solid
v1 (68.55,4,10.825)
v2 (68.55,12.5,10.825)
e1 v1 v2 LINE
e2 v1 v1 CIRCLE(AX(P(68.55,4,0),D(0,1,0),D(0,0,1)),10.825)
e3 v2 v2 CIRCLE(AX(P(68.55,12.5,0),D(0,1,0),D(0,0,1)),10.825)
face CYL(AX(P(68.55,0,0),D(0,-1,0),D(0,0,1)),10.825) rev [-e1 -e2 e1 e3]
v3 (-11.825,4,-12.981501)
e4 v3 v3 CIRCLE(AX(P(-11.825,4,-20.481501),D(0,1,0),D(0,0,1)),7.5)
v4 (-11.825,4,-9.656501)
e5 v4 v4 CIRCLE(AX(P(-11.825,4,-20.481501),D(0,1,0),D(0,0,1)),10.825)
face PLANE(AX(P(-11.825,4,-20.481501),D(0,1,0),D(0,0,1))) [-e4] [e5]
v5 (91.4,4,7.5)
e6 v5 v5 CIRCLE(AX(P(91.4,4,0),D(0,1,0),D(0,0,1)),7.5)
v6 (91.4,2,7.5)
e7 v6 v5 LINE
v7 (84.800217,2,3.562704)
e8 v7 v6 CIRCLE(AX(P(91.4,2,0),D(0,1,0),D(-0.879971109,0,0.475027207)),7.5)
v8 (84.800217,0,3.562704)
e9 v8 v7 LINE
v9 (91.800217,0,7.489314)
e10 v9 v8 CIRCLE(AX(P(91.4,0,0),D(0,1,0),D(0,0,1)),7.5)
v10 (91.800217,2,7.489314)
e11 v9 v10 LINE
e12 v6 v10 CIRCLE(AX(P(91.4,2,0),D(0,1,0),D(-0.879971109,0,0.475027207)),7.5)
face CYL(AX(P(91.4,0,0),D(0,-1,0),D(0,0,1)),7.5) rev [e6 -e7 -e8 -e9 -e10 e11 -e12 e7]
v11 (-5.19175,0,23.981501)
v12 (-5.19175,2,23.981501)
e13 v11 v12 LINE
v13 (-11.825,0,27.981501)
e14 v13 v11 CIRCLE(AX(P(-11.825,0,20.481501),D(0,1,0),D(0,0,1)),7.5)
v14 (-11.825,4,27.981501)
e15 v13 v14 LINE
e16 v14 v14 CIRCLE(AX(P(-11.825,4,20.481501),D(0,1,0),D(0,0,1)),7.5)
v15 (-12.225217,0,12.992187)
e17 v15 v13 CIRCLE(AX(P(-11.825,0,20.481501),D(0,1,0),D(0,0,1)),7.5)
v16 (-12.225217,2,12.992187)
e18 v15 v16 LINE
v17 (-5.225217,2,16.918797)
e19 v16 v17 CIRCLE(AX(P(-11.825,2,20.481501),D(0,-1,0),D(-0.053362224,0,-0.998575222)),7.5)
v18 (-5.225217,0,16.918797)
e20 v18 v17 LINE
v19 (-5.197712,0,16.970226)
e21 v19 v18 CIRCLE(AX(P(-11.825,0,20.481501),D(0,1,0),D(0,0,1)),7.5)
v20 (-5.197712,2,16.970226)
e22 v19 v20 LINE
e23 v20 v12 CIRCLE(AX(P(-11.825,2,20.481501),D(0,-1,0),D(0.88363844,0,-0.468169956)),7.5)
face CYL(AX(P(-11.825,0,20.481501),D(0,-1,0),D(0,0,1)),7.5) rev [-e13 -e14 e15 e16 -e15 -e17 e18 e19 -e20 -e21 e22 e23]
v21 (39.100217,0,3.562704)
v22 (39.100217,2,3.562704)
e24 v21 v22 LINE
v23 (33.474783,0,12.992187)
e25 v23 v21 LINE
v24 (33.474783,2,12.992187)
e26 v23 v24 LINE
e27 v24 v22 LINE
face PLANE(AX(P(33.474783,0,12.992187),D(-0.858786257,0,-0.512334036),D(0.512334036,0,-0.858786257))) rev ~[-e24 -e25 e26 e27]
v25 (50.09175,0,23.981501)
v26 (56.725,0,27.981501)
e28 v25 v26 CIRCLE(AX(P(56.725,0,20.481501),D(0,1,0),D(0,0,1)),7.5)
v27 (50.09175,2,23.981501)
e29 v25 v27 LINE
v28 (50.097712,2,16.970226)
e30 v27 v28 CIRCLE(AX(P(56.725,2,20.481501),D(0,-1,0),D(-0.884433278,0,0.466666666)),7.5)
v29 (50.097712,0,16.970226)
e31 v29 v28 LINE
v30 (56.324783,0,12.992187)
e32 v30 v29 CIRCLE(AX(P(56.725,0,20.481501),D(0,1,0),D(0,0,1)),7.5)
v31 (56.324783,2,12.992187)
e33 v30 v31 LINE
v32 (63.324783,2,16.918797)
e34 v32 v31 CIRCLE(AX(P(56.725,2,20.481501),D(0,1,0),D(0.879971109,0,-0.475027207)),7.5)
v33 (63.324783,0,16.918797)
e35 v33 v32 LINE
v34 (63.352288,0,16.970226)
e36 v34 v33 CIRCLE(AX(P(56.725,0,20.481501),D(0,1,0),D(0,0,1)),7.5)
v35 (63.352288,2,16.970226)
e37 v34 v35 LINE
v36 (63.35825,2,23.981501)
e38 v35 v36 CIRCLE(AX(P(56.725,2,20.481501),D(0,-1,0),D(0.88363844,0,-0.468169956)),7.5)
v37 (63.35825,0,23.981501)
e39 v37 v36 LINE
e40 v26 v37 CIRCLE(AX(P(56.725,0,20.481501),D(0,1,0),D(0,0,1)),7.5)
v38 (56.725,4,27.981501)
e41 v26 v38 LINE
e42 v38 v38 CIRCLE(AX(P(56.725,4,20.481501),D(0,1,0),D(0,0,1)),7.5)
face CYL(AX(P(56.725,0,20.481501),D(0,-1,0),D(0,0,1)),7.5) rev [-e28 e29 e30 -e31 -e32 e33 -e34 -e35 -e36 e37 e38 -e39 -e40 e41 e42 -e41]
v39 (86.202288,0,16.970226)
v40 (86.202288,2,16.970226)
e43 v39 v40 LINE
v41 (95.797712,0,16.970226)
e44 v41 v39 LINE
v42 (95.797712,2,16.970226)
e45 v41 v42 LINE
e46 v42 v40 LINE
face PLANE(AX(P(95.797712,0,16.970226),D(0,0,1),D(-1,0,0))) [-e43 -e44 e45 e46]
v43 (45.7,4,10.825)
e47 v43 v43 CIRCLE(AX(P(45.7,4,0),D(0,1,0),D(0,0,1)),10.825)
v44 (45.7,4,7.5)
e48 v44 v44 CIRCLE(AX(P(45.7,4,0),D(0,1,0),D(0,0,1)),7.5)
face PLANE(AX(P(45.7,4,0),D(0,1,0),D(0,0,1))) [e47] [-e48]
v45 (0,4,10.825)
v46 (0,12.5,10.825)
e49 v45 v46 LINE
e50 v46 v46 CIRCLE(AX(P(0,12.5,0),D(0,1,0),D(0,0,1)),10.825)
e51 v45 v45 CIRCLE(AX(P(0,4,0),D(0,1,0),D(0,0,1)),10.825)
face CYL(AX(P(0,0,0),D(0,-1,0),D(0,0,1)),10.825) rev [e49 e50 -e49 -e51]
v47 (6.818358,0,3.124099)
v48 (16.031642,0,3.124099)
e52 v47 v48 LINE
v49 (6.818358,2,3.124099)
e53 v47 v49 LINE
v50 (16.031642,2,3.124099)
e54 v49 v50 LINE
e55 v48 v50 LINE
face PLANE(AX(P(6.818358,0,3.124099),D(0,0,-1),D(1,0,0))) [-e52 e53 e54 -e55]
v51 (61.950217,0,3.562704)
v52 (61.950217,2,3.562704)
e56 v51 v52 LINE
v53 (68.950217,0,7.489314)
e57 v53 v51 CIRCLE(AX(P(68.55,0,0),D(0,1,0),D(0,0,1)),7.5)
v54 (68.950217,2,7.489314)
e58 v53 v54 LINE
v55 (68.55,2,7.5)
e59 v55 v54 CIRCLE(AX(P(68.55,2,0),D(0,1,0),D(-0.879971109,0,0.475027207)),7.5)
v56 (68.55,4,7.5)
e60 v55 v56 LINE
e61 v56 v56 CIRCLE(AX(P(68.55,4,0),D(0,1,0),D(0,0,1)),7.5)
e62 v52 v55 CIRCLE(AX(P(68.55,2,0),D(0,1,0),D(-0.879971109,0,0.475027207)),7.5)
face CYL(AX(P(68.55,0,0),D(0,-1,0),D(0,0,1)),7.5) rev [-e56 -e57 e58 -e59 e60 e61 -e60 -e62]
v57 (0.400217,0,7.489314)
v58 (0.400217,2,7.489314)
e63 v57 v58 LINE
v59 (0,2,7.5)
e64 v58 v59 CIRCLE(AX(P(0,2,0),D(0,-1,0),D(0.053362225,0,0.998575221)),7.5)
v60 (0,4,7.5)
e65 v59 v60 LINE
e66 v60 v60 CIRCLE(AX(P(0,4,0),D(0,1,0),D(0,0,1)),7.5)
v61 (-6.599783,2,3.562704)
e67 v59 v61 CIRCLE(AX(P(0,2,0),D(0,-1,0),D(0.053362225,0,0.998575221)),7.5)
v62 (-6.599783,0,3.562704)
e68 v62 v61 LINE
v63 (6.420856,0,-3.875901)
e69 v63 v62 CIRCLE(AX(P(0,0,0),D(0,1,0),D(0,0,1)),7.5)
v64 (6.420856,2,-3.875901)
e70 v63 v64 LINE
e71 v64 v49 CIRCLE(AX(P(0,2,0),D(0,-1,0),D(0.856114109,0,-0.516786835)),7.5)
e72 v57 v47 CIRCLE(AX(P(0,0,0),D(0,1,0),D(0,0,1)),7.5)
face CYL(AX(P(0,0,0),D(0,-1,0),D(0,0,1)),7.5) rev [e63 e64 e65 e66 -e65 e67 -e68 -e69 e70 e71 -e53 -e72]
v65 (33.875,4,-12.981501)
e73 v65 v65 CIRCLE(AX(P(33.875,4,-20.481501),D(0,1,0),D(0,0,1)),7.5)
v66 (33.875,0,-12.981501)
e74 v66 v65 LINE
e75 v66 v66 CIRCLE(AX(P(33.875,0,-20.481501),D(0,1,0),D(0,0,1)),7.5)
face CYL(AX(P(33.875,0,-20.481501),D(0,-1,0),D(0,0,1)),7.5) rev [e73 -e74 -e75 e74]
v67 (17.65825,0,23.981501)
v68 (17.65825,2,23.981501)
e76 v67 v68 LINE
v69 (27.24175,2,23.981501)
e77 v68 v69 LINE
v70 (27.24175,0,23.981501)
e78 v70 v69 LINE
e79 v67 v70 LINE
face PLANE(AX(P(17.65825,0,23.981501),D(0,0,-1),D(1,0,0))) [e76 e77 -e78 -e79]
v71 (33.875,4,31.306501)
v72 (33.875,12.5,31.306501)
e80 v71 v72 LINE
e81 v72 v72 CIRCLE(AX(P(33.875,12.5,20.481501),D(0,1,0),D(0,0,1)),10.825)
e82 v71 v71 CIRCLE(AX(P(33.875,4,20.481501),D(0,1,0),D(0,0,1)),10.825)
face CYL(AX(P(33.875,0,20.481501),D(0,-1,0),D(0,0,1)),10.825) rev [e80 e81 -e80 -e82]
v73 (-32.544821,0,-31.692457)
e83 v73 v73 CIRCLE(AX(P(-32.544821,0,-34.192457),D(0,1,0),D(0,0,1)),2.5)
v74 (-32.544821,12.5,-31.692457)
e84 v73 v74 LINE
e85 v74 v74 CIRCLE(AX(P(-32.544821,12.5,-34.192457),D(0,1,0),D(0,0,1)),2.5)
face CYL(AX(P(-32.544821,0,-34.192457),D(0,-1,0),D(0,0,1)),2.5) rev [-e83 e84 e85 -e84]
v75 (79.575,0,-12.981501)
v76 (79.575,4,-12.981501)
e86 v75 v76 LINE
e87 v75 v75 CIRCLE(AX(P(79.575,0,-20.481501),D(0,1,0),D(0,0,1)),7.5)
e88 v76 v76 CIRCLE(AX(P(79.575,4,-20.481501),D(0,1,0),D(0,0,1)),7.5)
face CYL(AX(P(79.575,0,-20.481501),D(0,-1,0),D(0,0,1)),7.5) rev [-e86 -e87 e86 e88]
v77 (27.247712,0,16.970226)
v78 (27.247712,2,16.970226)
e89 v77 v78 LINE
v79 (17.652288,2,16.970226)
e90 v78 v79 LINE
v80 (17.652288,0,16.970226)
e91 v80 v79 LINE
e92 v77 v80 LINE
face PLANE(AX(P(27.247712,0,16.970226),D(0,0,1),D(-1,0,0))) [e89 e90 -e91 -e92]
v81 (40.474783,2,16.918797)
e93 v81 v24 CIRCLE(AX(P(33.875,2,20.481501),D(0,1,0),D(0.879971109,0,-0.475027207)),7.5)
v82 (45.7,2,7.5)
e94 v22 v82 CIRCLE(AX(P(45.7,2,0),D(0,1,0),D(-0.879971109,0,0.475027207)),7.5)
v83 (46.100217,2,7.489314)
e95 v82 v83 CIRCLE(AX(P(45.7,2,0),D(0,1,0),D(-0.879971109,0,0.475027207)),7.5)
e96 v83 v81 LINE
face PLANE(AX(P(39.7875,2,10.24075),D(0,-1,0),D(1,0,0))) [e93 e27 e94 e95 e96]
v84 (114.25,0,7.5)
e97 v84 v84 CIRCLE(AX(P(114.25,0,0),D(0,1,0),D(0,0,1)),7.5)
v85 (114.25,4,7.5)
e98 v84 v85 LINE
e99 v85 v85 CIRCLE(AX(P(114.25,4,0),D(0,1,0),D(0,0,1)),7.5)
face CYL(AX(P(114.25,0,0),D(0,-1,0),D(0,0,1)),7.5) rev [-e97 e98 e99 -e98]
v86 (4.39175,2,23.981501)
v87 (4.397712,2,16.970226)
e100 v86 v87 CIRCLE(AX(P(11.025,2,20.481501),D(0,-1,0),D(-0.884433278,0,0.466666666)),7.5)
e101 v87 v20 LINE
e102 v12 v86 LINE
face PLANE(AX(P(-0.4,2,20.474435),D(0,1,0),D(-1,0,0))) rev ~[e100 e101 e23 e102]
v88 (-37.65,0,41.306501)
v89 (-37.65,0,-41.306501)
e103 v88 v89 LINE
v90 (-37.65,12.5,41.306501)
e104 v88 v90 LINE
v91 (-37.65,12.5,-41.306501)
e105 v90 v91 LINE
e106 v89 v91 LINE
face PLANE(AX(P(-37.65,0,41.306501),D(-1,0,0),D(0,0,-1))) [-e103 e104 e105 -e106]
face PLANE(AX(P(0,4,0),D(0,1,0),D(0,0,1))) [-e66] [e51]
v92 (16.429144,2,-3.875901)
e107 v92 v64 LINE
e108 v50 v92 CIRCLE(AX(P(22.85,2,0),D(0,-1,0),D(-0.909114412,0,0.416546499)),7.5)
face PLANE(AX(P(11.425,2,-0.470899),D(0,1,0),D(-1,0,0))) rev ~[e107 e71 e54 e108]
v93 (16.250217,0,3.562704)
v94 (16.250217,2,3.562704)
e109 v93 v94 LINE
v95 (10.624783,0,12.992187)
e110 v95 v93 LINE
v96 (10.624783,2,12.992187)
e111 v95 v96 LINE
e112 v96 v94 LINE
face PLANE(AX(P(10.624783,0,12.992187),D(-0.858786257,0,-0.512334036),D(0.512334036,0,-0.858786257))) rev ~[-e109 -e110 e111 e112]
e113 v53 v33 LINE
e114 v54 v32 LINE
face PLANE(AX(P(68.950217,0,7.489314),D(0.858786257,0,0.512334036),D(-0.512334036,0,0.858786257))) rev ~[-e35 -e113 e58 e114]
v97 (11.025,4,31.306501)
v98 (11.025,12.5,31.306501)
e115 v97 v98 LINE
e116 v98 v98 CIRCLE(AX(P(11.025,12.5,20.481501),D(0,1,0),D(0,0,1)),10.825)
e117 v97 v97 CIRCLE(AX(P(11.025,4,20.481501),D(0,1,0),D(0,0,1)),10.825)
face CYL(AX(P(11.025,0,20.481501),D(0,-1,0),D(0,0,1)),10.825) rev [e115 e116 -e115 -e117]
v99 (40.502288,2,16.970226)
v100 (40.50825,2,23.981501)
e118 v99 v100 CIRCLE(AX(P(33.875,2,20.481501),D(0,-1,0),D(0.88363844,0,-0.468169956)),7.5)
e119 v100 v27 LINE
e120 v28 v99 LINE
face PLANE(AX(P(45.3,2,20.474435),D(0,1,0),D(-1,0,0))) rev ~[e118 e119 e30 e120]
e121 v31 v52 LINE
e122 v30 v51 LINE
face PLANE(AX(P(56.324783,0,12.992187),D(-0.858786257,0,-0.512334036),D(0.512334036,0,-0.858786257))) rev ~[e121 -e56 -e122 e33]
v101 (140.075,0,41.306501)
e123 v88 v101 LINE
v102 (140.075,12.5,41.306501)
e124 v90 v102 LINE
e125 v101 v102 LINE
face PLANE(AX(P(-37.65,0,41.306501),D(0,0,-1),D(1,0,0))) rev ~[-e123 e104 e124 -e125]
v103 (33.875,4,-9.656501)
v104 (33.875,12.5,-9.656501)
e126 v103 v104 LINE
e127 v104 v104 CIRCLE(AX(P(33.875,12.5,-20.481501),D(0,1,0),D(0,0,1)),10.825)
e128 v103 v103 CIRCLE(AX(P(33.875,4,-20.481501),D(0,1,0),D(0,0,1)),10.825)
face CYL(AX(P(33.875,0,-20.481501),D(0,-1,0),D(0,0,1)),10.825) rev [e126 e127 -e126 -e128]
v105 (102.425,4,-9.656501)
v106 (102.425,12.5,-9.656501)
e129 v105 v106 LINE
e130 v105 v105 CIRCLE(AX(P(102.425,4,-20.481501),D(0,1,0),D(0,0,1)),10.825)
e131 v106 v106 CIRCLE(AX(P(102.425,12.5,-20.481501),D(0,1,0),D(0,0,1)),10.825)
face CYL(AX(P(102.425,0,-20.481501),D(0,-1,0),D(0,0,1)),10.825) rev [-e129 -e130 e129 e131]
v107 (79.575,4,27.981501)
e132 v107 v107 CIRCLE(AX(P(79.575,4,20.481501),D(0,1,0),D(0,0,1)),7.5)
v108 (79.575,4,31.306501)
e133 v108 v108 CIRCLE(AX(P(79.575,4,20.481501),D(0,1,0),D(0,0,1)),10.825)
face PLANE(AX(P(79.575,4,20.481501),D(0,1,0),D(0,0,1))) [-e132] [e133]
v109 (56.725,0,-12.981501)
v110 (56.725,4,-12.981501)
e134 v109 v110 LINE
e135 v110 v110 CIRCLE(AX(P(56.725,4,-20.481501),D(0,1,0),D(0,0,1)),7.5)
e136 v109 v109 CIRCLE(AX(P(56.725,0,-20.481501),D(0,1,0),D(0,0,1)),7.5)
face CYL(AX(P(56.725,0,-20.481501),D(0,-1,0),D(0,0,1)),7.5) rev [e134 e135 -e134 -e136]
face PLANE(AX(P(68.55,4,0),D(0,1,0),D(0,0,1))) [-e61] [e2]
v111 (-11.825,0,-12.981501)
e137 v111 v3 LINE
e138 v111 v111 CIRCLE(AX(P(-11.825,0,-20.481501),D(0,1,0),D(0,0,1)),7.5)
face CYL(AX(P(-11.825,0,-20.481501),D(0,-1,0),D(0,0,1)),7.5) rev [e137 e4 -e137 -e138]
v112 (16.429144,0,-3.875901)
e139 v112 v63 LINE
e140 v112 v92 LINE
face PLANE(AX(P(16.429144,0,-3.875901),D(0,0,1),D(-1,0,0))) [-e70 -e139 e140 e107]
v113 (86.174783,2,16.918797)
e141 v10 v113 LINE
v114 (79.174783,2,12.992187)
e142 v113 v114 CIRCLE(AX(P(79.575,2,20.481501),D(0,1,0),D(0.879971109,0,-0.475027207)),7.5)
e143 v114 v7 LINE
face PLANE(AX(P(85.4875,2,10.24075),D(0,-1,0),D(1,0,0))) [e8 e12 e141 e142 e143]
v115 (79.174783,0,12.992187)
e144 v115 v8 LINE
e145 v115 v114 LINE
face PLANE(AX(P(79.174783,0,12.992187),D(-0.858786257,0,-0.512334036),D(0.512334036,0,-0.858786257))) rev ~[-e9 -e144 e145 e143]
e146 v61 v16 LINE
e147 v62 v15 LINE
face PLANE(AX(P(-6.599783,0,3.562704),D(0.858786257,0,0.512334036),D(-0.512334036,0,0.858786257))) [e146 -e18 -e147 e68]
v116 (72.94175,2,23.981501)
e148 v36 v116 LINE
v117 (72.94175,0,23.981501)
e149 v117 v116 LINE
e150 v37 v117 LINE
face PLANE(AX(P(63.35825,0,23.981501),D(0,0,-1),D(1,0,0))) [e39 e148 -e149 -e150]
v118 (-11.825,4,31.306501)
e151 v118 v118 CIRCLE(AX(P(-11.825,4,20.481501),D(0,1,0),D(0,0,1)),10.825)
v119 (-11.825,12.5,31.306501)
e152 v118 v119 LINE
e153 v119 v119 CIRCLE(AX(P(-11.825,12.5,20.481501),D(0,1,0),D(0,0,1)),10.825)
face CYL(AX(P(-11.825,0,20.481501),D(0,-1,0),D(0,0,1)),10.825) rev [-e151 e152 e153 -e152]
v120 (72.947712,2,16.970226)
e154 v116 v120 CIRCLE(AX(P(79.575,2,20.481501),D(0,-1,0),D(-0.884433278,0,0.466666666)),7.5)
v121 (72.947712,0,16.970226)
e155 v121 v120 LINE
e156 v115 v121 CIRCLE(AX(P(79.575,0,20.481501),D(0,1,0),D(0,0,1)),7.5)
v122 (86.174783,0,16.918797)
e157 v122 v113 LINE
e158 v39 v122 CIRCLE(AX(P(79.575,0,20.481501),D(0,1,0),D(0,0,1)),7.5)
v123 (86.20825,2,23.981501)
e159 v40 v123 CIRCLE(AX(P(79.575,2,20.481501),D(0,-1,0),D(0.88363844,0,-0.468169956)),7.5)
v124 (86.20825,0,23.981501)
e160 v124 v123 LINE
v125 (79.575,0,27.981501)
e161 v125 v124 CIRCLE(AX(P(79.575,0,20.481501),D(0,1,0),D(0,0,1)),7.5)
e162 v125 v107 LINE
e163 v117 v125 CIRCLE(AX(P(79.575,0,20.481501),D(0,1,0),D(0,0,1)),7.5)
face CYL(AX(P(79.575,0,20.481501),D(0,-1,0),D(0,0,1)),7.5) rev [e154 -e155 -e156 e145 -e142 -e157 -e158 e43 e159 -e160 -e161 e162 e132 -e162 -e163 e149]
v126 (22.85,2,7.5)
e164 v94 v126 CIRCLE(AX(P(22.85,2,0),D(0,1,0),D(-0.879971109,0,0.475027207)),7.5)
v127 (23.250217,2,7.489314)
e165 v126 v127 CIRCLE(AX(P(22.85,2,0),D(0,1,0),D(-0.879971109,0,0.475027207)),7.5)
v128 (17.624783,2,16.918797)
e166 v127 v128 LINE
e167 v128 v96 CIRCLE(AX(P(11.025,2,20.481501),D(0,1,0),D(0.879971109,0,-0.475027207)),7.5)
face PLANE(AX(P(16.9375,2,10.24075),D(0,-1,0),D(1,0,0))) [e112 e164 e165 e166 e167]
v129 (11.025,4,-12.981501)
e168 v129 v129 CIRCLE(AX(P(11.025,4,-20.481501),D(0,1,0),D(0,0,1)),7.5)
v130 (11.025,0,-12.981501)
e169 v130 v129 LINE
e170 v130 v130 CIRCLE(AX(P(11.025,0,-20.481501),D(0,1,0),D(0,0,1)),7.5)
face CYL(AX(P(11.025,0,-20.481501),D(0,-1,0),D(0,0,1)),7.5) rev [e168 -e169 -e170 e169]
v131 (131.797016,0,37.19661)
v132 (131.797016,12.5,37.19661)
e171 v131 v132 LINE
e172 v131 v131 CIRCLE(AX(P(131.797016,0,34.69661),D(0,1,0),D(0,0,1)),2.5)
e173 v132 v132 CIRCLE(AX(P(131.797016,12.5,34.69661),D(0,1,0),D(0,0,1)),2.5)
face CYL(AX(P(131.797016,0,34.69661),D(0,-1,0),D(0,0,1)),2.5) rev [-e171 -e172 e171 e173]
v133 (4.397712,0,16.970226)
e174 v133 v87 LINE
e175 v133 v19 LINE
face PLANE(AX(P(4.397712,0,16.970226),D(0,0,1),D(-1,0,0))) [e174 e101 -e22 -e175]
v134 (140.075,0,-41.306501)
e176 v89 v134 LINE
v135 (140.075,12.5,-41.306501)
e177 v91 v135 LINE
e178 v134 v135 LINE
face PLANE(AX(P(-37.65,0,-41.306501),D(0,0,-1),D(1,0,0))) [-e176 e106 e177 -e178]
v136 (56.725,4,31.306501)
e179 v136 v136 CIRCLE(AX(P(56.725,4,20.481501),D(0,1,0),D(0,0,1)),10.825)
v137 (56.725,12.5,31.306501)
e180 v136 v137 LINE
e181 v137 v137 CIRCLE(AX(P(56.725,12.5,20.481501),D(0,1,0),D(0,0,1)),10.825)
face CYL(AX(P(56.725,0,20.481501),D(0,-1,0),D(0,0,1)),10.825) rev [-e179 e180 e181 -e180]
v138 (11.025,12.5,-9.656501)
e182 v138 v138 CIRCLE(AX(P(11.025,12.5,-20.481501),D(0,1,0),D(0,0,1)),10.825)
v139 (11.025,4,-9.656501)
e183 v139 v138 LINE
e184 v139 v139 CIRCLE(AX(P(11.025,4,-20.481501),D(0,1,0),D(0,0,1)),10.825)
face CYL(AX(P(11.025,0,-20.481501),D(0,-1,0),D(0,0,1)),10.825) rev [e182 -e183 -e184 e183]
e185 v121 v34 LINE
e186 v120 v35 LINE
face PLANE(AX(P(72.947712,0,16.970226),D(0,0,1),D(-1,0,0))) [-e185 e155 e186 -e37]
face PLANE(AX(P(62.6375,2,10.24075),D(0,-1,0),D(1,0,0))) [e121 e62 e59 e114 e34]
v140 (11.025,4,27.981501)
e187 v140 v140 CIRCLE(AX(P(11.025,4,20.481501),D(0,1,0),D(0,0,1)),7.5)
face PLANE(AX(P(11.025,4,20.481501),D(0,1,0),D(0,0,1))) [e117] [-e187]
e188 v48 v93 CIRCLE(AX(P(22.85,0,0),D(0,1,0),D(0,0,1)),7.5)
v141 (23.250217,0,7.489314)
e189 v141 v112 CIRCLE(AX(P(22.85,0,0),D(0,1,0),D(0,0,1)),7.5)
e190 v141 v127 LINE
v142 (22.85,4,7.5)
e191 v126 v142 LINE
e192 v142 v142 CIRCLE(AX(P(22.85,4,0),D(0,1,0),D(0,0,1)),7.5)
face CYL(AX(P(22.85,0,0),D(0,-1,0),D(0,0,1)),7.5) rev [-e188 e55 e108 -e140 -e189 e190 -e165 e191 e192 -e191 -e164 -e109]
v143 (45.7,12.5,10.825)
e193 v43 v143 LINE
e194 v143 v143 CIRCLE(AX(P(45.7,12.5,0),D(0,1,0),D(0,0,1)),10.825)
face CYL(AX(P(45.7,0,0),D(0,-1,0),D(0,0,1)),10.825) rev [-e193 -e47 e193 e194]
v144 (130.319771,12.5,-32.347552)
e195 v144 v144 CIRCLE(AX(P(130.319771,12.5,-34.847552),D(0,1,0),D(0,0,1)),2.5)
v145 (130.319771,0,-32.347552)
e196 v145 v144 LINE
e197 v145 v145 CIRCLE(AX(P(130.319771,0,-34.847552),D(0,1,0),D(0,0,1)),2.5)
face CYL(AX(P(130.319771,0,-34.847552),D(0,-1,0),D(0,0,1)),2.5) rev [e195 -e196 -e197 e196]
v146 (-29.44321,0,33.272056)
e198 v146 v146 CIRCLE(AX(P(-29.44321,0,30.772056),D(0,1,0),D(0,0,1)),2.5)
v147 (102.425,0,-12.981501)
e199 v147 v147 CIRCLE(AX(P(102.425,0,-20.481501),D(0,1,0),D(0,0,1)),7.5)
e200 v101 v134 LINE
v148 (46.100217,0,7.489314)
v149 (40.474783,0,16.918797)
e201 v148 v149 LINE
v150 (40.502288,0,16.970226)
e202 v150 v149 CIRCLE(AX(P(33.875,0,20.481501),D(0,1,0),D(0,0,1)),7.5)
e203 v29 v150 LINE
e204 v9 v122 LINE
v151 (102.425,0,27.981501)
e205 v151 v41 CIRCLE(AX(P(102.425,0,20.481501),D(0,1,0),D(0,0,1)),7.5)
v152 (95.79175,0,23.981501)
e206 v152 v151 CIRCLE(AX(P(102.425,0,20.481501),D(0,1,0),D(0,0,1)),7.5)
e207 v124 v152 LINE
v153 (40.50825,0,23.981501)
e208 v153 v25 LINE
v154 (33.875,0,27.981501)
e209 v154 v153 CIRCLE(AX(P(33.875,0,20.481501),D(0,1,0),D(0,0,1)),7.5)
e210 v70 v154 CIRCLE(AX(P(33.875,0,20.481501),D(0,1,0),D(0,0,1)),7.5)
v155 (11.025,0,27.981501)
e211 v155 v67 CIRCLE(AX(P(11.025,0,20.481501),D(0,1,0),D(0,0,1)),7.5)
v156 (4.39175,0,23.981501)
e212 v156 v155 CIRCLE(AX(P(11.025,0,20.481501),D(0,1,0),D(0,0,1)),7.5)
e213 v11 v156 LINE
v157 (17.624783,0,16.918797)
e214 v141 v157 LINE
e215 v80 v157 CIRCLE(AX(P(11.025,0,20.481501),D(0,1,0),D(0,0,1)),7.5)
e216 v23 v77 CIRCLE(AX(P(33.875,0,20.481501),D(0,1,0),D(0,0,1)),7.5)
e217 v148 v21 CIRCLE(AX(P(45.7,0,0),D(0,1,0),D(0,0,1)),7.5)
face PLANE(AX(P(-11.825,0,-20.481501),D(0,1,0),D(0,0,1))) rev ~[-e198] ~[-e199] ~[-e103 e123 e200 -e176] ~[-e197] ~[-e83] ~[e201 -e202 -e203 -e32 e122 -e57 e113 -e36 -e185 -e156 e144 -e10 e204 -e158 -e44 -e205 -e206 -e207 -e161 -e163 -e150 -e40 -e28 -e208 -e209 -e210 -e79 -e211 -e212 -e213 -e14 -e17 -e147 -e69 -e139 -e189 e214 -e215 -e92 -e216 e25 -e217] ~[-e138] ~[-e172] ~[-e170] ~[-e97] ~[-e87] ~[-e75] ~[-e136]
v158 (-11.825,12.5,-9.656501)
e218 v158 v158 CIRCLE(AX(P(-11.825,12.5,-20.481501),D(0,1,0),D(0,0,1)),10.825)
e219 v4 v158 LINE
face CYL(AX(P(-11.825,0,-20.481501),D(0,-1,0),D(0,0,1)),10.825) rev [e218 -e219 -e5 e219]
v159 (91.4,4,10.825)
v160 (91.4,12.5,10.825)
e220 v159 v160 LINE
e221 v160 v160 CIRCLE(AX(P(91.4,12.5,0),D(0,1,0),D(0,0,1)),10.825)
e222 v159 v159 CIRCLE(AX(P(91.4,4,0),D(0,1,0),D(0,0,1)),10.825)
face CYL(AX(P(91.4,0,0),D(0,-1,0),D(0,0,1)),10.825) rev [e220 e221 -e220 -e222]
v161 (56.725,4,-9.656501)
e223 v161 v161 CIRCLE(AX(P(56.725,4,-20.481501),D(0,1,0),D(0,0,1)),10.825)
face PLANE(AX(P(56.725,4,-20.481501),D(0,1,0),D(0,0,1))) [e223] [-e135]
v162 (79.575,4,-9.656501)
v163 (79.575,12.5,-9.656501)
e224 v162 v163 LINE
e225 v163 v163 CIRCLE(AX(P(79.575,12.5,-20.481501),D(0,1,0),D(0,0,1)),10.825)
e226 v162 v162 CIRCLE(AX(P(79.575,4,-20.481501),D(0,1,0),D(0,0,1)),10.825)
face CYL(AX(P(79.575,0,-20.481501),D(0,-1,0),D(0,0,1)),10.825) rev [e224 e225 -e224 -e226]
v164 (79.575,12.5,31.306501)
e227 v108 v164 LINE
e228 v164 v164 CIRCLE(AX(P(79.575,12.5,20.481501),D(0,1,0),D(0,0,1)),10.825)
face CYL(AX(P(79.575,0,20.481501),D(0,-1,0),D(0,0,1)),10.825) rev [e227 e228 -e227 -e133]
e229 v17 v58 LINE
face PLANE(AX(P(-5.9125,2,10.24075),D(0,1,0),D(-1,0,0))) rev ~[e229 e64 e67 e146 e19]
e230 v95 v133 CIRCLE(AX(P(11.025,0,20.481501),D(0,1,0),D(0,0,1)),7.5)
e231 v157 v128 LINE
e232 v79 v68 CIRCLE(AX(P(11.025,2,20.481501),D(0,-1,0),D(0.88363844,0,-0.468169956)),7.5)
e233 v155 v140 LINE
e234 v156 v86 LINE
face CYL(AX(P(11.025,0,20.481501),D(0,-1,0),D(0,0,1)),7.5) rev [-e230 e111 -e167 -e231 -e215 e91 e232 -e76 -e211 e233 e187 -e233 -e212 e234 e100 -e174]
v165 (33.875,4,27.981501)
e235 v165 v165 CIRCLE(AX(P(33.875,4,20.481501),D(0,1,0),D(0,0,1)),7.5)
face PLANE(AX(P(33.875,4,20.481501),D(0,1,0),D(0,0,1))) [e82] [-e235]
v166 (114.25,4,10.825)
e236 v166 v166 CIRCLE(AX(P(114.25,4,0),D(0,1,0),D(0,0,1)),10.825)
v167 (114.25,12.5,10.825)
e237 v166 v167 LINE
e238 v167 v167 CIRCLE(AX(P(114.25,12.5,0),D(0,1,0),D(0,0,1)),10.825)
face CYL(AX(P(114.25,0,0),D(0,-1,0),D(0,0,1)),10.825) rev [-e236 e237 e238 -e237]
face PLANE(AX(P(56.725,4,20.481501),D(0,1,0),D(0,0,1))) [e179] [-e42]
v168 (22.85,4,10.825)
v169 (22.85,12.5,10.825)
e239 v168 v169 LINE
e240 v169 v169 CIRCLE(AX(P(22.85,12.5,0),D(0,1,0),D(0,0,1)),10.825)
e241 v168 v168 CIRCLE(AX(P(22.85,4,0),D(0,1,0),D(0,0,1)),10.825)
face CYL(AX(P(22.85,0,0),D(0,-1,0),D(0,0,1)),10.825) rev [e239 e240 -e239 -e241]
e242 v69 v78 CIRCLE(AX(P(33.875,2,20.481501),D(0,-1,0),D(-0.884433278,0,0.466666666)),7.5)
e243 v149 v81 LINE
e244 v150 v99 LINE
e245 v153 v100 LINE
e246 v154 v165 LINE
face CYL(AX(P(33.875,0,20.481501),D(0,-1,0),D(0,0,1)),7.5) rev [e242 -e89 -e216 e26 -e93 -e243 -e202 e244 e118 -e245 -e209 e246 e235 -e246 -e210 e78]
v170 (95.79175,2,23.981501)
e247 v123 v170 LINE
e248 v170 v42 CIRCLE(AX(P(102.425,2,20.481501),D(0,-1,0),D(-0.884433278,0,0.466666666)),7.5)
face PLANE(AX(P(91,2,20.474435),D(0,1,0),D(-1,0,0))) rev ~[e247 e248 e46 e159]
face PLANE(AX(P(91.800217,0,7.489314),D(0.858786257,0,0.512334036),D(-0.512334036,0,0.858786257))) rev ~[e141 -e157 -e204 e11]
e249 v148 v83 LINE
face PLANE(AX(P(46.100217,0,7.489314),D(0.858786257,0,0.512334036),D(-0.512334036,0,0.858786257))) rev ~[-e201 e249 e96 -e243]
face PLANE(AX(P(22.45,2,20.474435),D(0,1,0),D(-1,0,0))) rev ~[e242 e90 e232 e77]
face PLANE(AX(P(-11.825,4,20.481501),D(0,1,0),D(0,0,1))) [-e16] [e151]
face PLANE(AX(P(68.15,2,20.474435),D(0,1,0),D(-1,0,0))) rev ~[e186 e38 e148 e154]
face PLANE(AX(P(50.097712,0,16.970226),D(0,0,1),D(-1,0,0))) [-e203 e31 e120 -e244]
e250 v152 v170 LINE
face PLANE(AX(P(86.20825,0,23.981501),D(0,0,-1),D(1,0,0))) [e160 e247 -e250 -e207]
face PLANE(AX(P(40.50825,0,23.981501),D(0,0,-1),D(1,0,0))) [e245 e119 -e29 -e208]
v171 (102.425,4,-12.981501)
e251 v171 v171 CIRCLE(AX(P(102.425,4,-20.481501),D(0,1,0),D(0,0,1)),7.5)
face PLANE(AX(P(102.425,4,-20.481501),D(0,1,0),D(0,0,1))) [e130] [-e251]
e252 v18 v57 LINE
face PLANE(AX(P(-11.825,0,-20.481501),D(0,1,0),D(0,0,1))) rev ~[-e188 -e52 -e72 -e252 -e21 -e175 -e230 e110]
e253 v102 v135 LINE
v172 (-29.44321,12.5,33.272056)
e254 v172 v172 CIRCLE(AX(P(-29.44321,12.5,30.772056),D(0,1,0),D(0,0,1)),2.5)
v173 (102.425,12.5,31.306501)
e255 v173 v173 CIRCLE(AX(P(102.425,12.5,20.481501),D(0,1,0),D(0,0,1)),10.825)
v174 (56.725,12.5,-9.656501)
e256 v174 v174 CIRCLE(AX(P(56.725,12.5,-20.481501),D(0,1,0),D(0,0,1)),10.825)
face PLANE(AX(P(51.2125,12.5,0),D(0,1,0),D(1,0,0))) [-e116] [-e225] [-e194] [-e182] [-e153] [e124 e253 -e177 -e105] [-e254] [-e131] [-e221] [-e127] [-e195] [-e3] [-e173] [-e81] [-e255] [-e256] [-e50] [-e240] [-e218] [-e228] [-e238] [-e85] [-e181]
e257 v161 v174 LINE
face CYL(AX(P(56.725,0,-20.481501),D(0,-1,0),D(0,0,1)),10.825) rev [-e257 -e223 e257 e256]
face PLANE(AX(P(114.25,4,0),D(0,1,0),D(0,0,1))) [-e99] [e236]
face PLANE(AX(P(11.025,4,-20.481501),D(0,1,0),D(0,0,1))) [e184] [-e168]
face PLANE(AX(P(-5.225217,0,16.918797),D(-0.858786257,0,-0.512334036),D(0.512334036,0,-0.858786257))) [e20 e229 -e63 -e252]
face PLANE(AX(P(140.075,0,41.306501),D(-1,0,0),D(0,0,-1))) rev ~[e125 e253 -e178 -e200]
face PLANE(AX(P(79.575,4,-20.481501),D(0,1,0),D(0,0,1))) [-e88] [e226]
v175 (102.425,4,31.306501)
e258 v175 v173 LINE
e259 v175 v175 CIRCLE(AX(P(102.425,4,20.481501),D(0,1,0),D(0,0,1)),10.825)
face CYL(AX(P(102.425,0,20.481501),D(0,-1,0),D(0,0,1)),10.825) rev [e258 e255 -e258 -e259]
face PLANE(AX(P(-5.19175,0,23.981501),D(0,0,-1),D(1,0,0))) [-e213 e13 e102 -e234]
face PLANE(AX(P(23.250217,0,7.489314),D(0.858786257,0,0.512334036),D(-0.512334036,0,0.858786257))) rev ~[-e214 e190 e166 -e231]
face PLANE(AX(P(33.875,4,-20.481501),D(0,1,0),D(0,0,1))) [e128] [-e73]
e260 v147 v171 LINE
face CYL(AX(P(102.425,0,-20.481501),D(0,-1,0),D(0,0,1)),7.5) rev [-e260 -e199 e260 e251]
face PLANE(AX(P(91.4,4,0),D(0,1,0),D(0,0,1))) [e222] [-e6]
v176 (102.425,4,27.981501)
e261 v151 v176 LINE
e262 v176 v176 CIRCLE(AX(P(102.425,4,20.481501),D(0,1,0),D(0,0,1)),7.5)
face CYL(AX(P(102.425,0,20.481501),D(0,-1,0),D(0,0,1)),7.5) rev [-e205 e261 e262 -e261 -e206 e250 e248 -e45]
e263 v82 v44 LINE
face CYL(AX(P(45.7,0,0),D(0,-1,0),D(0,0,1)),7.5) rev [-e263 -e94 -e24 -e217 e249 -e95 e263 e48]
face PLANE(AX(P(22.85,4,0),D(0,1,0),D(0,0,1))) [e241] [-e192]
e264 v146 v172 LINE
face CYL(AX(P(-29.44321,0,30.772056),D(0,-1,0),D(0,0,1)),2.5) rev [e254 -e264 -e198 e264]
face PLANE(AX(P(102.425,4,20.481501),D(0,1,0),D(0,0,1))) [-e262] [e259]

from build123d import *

# Parameters (mm, degrees)
SKETCH1_W           = 177.725
SKETCH1_H           = 82.6130016
SKETCH1_R           = 2.5
SKETCH1_R_2         = 10.825
BOSS_EXTRUDE1_DEPTH = 12.5
SKETCH1_3_R         = 10.825
SKETCH1_3_R_2       = 7.5
BOSS_EXTRUDE2_DEPTH = 4
CUT_EXTRUDE2_DEPTH  = 2


with BuildPart() as part:
    # Sketch1 → Boss-Extrude1 (new body)
    with BuildSketch(Plane(origin=(0, 0, 0), x_dir=(1, 0, 0), z_dir=(0, 1, 0))):
        with Locations((51.2125, 0)):
            Rectangle(SKETCH1_W, SKETCH1_H)
        with Locations((-29.443209777, -30.772056418)):
            Circle(SKETCH1_R, mode=Mode.SUBTRACT)
        with Locations((-11.825, -20.4815008)):
            Circle(SKETCH1_R_2, mode=Mode.SUBTRACT)
        with Locations((11.025, -20.4815008)):
            Circle(SKETCH1_R_2, mode=Mode.SUBTRACT)
        with Locations((33.875, -20.4815008)):
            Circle(SKETCH1_R_2, mode=Mode.SUBTRACT)
        with Locations((131.797016059, -34.696609752)):
            Circle(SKETCH1_R, mode=Mode.SUBTRACT)
        with Locations((56.725, -20.4815008)):
            Circle(SKETCH1_R_2, mode=Mode.SUBTRACT)
        with Locations((79.575, -20.4815008)):
            Circle(SKETCH1_R_2, mode=Mode.SUBTRACT)
        with Locations((102.425, -20.4815008)):
            Circle(SKETCH1_R_2, mode=Mode.SUBTRACT)
        Circle(SKETCH1_R_2, mode=Mode.SUBTRACT)
        with Locations((-11.825, 20.4815008)):
            Circle(SKETCH1_R_2, mode=Mode.SUBTRACT)
        with Locations((22.85, 0)):
            Circle(SKETCH1_R_2, mode=Mode.SUBTRACT)
        with Locations((45.7, 0)):
            Circle(SKETCH1_R_2, mode=Mode.SUBTRACT)
        with Locations((11.025, 20.4815008)):
            Circle(SKETCH1_R_2, mode=Mode.SUBTRACT)
        with Locations((33.875, 20.4815008)):
            Circle(SKETCH1_R_2, mode=Mode.SUBTRACT)
        with Locations((-32.544821209, 34.192456987)):
            Circle(SKETCH1_R, mode=Mode.SUBTRACT)
        with Locations((68.55, 0)):
            Circle(SKETCH1_R_2, mode=Mode.SUBTRACT)
        with Locations((91.4, 0)):
            Circle(SKETCH1_R_2, mode=Mode.SUBTRACT)
        with Locations((56.725, 20.4815008)):
            Circle(SKETCH1_R_2, mode=Mode.SUBTRACT)
        with Locations((79.575, 20.4815008)):
            Circle(SKETCH1_R_2, mode=Mode.SUBTRACT)
        with Locations((114.25, 0)):
            Circle(SKETCH1_R_2, mode=Mode.SUBTRACT)
        with Locations((102.425, 20.4815008)):
            Circle(SKETCH1_R_2, mode=Mode.SUBTRACT)
        with Locations((130.319770801, 34.847551633)):
            Circle(SKETCH1_R, mode=Mode.SUBTRACT)
    extrude(amount=BOSS_EXTRUDE1_DEPTH)

    # Sketch1<3> → Boss-Extrude2 (add)
    # profile 1 of 18: a face of its own
    with BuildSketch(Plane(origin=(0, 0, 0), x_dir=(1, 0, 0), z_dir=(0, 1, 0))):
        with Locations((-11.825, 20.4815008)):
            Circle(SKETCH1_3_R)
        with Locations((-11.825, 20.4815008)):
            Circle(SKETCH1_3_R_2, mode=Mode.SUBTRACT)
    # profile 2 of 18: a face of its own
    with BuildSketch(Plane(origin=(0, 0, 0), x_dir=(1, 0, 0), z_dir=(0, 1, 0))):
        Circle(SKETCH1_3_R)
        Circle(SKETCH1_3_R_2, mode=Mode.SUBTRACT)
    # profile 3 of 18: a face of its own
    with BuildSketch(Plane(origin=(0, 0, 0), x_dir=(1, 0, 0), z_dir=(0, 1, 0))):
        with Locations((-11.825, -20.4815008)):
            Circle(SKETCH1_3_R)
        with Locations((-11.825, -20.4815008)):
            Circle(SKETCH1_3_R_2, mode=Mode.SUBTRACT)
    # profile 4 of 18: a face of its own
    with BuildSketch(Plane(origin=(0, 0, 0), x_dir=(1, 0, 0), z_dir=(0, 1, 0))):
        with Locations((11.025, 20.4815008)):
            Circle(SKETCH1_3_R)
        with Locations((11.025, 20.4815008)):
            Circle(SKETCH1_3_R_2, mode=Mode.SUBTRACT)
    # profile 5 of 18: a face of its own
    with BuildSketch(Plane(origin=(0, 0, 0), x_dir=(1, 0, 0), z_dir=(0, 1, 0))):
        with Locations((22.85, 0)):
            Circle(SKETCH1_3_R)
        with Locations((22.85, 0)):
            Circle(SKETCH1_3_R_2, mode=Mode.SUBTRACT)
    # profile 6 of 18: a face of its own
    with BuildSketch(Plane(origin=(0, 0, 0), x_dir=(1, 0, 0), z_dir=(0, 1, 0))):
        with Locations((11.025, -20.4815008)):
            Circle(SKETCH1_3_R)
        with Locations((11.025, -20.4815008)):
            Circle(SKETCH1_3_R_2, mode=Mode.SUBTRACT)
    # profile 7 of 18: a face of its own
    with BuildSketch(Plane(origin=(0, 0, 0), x_dir=(1, 0, 0), z_dir=(0, 1, 0))):
        with Locations((33.875, 20.4815008)):
            Circle(SKETCH1_3_R)
        with Locations((33.875, 20.4815008)):
            Circle(SKETCH1_3_R_2, mode=Mode.SUBTRACT)
    # profile 8 of 18: a face of its own
    with BuildSketch(Plane(origin=(0, 0, 0), x_dir=(1, 0, 0), z_dir=(0, 1, 0))):
        with Locations((45.7, 0)):
            Circle(SKETCH1_3_R)
        with Locations((45.7, 0)):
            Circle(SKETCH1_3_R_2, mode=Mode.SUBTRACT)
    # profile 9 of 18: a face of its own
    with BuildSketch(Plane(origin=(0, 0, 0), x_dir=(1, 0, 0), z_dir=(0, 1, 0))):
        with Locations((33.875, -20.4815008)):
            Circle(SKETCH1_3_R)
        with Locations((33.875, -20.4815008)):
            Circle(SKETCH1_3_R_2, mode=Mode.SUBTRACT)
    # profile 10 of 18: a face of its own
    with BuildSketch(Plane(origin=(0, 0, 0), x_dir=(1, 0, 0), z_dir=(0, 1, 0))):
        with Locations((56.725, 20.4815008)):
            Circle(SKETCH1_3_R)
        with Locations((56.725, 20.4815008)):
            Circle(SKETCH1_3_R_2, mode=Mode.SUBTRACT)
    # profile 11 of 18: a face of its own
    with BuildSketch(Plane(origin=(0, 0, 0), x_dir=(1, 0, 0), z_dir=(0, 1, 0))):
        with Locations((68.55, 0)):
            Circle(SKETCH1_3_R)
        with Locations((68.55, 0)):
            Circle(SKETCH1_3_R_2, mode=Mode.SUBTRACT)
    # profile 12 of 18: a face of its own
    with BuildSketch(Plane(origin=(0, 0, 0), x_dir=(1, 0, 0), z_dir=(0, 1, 0))):
        with Locations((56.725, -20.4815008)):
            Circle(SKETCH1_3_R)
        with Locations((56.725, -20.4815008)):
            Circle(SKETCH1_3_R_2, mode=Mode.SUBTRACT)
    # profile 13 of 18: a face of its own
    with BuildSketch(Plane(origin=(0, 0, 0), x_dir=(1, 0, 0), z_dir=(0, 1, 0))):
        with Locations((79.575, 20.4815008)):
            Circle(SKETCH1_3_R)
        with Locations((79.575, 20.4815008)):
            Circle(SKETCH1_3_R_2, mode=Mode.SUBTRACT)
    # profile 14 of 18: a face of its own
    with BuildSketch(Plane(origin=(0, 0, 0), x_dir=(1, 0, 0), z_dir=(0, 1, 0))):
        with Locations((91.4, 0)):
            Circle(SKETCH1_3_R)
        with Locations((91.4, 0)):
            Circle(SKETCH1_3_R_2, mode=Mode.SUBTRACT)
    # profile 15 of 18: a face of its own
    with BuildSketch(Plane(origin=(0, 0, 0), x_dir=(1, 0, 0), z_dir=(0, 1, 0))):
        with Locations((79.575, -20.4815008)):
            Circle(SKETCH1_3_R)
        with Locations((79.575, -20.4815008)):
            Circle(SKETCH1_3_R_2, mode=Mode.SUBTRACT)
    # profile 16 of 18: a face of its own
    with BuildSketch(Plane(origin=(0, 0, 0), x_dir=(1, 0, 0), z_dir=(0, 1, 0))):
        with Locations((102.425, 20.4815008)):
            Circle(SKETCH1_3_R)
        with Locations((102.425, 20.4815008)):
            Circle(SKETCH1_3_R_2, mode=Mode.SUBTRACT)
    # profile 17 of 18: a face of its own
    with BuildSketch(Plane(origin=(0, 0, 0), x_dir=(1, 0, 0), z_dir=(0, 1, 0))):
        with Locations((114.25, 0)):
            Circle(SKETCH1_3_R)
        with Locations((114.25, 0)):
            Circle(SKETCH1_3_R_2, mode=Mode.SUBTRACT)
    # profile 18 of 18: a face of its own
    with BuildSketch(Plane(origin=(0, 0, 0), x_dir=(1, 0, 0), z_dir=(0, 1, 0))):
        with Locations((102.425, -20.4815008)):
            Circle(SKETCH1_3_R)
        with Locations((102.425, -20.4815008)):
            Circle(SKETCH1_3_R_2, mode=Mode.SUBTRACT)
    extrude(amount=BOSS_EXTRUDE2_DEPTH)

    # Sketch3 → Cut-Extrude2 (cut)
    with BuildSketch(Plane.XZ):
        with BuildLine():
            Line((-5.191750419, 23.9815008), (4.391750419, 23.9815008))
            ThreePointArc((4.391750419, 23.9815008), (3.525002711, 20.475123984), (4.397711702, 16.970226128))
            Line((4.397711702, 16.970226128), (-5.197711702, 16.970226128))
            ThreePointArc((-5.197711702, 16.970226128), (-4.325002711, 20.475123984), (-5.191750419, 23.9815008))
        make_face()
        with BuildLine():
            Line((6.818358092, 3.124098739), (16.031641908, 3.124098739))
            ThreePointArc((16.031641908, 3.124098739), (15.362063286, -0.425210269), (16.429144184, -3.875901261))
            Line((16.429144184, -3.875901261), (6.420855816, -3.875901261))
            ThreePointArc((6.420855816, -3.875901261), (7.487936714, -0.425210269), (6.818358092, 3.124098739))
        make_face()
        with BuildLine():
            Line((-5.225216684, 16.918796746), (0.400216684, 7.489314161))
            ThreePointArc((0.400216684, 7.489314161), (-3.669226532, 6.541160192), (-6.599783316, 3.562704054))
            Line((-6.599783316, 3.562704054), (-12.225216684, 12.992186638))
            ThreePointArc((-12.225216684, 12.992186638), (-8.155773468, 13.940340608), (-5.225216684, 16.918796746))
        make_face()
        with BuildLine():
            Line((27.247711702, 16.970226128), (17.652288298, 16.970226128))
            ThreePointArc((17.652288298, 16.970226128), (18.524997289, 20.475123984), (17.658249581, 23.9815008))
            Line((17.658249581, 23.9815008), (27.241750419, 23.9815008))
            ThreePointArc((27.241750419, 23.9815008), (26.375002711, 20.475123984), (27.247711702, 16.970226128))
        make_face()
        with BuildLine():
            Line((10.624783316, 12.992186638), (16.250216684, 3.562704054))
            ThreePointArc((16.250216684, 3.562704054), (19.180773468, 6.541160192), (23.250216684, 7.489314161))
            Line((23.250216684, 7.489314161), (17.624783316, 16.918796746))
            ThreePointArc((17.624783316, 16.918796746), (14.694226532, 13.940340608), (10.624783316, 12.992186638))
        make_face()
        with BuildLine():
            Line((50.097711702, 16.970226128), (40.502288298, 16.970226128))
            ThreePointArc((40.502288298, 16.970226128), (41.374997289, 20.475123984), (40.508249581, 23.9815008))
            Line((40.508249581, 23.9815008), (50.091750419, 23.9815008))
            ThreePointArc((50.091750419, 23.9815008), (49.225002711, 20.475123984), (50.097711702, 16.970226128))
        make_face()
        with BuildLine():
            Line((33.474783316, 12.992186638), (39.100216684, 3.562704054))
            ThreePointArc((39.100216684, 3.562704054), (42.030773468, 6.541160192), (46.100216684, 7.489314161))
            Line((46.100216684, 7.489314161), (40.474783316, 16.918796746))
            ThreePointArc((40.474783316, 16.918796746), (37.544226532, 13.940340608), (33.474783316, 12.992186638))
        make_face()
        with BuildLine():
            Line((72.947711702, 16.970226128), (63.352288298, 16.970226128))
            ThreePointArc((63.352288298, 16.970226128), (64.224997289, 20.475123984), (63.358249581, 23.9815008))
            Line((63.358249581, 23.9815008), (72.941750419, 23.9815008))
            ThreePointArc((72.941750419, 23.9815008), (72.075002711, 20.475123984), (72.947711702, 16.970226128))
        make_face()
        with BuildLine():
            Line((56.324783316, 12.992186638), (61.950216684, 3.562704054))
            ThreePointArc((61.950216684, 3.562704054), (64.880773468, 6.541160192), (68.950216684, 7.489314161))
            Line((68.950216684, 7.489314161), (63.324783316, 16.918796746))
            ThreePointArc((63.324783316, 16.918796746), (60.394226532, 13.940340608), (56.324783316, 12.992186638))
        make_face()
        with BuildLine():
            Line((95.797711702, 16.970226128), (86.202288298, 16.970226128))
            ThreePointArc((86.202288298, 16.970226128), (87.074997289, 20.475123984), (86.208249581, 23.9815008))
            Line((86.208249581, 23.9815008), (95.791750419, 23.9815008))
            ThreePointArc((95.791750419, 23.9815008), (94.925002711, 20.475123984), (95.797711702, 16.970226128))
        make_face()
        with BuildLine():
            Line((79.174783316, 12.992186638), (84.800216684, 3.562704054))
            ThreePointArc((84.800216684, 3.562704054), (87.730773468, 6.541160192), (91.800216684, 7.489314161))
            Line((91.800216684, 7.489314161), (86.174783316, 16.918796746))
            ThreePointArc((86.174783316, 16.918796746), (83.244226532, 13.940340608), (79.174783316, 12.992186638))
        make_face()
    extrude(amount=-CUT_EXTRUDE2_DEPTH, mode=Mode.SUBTRACT)


solid = part.part
